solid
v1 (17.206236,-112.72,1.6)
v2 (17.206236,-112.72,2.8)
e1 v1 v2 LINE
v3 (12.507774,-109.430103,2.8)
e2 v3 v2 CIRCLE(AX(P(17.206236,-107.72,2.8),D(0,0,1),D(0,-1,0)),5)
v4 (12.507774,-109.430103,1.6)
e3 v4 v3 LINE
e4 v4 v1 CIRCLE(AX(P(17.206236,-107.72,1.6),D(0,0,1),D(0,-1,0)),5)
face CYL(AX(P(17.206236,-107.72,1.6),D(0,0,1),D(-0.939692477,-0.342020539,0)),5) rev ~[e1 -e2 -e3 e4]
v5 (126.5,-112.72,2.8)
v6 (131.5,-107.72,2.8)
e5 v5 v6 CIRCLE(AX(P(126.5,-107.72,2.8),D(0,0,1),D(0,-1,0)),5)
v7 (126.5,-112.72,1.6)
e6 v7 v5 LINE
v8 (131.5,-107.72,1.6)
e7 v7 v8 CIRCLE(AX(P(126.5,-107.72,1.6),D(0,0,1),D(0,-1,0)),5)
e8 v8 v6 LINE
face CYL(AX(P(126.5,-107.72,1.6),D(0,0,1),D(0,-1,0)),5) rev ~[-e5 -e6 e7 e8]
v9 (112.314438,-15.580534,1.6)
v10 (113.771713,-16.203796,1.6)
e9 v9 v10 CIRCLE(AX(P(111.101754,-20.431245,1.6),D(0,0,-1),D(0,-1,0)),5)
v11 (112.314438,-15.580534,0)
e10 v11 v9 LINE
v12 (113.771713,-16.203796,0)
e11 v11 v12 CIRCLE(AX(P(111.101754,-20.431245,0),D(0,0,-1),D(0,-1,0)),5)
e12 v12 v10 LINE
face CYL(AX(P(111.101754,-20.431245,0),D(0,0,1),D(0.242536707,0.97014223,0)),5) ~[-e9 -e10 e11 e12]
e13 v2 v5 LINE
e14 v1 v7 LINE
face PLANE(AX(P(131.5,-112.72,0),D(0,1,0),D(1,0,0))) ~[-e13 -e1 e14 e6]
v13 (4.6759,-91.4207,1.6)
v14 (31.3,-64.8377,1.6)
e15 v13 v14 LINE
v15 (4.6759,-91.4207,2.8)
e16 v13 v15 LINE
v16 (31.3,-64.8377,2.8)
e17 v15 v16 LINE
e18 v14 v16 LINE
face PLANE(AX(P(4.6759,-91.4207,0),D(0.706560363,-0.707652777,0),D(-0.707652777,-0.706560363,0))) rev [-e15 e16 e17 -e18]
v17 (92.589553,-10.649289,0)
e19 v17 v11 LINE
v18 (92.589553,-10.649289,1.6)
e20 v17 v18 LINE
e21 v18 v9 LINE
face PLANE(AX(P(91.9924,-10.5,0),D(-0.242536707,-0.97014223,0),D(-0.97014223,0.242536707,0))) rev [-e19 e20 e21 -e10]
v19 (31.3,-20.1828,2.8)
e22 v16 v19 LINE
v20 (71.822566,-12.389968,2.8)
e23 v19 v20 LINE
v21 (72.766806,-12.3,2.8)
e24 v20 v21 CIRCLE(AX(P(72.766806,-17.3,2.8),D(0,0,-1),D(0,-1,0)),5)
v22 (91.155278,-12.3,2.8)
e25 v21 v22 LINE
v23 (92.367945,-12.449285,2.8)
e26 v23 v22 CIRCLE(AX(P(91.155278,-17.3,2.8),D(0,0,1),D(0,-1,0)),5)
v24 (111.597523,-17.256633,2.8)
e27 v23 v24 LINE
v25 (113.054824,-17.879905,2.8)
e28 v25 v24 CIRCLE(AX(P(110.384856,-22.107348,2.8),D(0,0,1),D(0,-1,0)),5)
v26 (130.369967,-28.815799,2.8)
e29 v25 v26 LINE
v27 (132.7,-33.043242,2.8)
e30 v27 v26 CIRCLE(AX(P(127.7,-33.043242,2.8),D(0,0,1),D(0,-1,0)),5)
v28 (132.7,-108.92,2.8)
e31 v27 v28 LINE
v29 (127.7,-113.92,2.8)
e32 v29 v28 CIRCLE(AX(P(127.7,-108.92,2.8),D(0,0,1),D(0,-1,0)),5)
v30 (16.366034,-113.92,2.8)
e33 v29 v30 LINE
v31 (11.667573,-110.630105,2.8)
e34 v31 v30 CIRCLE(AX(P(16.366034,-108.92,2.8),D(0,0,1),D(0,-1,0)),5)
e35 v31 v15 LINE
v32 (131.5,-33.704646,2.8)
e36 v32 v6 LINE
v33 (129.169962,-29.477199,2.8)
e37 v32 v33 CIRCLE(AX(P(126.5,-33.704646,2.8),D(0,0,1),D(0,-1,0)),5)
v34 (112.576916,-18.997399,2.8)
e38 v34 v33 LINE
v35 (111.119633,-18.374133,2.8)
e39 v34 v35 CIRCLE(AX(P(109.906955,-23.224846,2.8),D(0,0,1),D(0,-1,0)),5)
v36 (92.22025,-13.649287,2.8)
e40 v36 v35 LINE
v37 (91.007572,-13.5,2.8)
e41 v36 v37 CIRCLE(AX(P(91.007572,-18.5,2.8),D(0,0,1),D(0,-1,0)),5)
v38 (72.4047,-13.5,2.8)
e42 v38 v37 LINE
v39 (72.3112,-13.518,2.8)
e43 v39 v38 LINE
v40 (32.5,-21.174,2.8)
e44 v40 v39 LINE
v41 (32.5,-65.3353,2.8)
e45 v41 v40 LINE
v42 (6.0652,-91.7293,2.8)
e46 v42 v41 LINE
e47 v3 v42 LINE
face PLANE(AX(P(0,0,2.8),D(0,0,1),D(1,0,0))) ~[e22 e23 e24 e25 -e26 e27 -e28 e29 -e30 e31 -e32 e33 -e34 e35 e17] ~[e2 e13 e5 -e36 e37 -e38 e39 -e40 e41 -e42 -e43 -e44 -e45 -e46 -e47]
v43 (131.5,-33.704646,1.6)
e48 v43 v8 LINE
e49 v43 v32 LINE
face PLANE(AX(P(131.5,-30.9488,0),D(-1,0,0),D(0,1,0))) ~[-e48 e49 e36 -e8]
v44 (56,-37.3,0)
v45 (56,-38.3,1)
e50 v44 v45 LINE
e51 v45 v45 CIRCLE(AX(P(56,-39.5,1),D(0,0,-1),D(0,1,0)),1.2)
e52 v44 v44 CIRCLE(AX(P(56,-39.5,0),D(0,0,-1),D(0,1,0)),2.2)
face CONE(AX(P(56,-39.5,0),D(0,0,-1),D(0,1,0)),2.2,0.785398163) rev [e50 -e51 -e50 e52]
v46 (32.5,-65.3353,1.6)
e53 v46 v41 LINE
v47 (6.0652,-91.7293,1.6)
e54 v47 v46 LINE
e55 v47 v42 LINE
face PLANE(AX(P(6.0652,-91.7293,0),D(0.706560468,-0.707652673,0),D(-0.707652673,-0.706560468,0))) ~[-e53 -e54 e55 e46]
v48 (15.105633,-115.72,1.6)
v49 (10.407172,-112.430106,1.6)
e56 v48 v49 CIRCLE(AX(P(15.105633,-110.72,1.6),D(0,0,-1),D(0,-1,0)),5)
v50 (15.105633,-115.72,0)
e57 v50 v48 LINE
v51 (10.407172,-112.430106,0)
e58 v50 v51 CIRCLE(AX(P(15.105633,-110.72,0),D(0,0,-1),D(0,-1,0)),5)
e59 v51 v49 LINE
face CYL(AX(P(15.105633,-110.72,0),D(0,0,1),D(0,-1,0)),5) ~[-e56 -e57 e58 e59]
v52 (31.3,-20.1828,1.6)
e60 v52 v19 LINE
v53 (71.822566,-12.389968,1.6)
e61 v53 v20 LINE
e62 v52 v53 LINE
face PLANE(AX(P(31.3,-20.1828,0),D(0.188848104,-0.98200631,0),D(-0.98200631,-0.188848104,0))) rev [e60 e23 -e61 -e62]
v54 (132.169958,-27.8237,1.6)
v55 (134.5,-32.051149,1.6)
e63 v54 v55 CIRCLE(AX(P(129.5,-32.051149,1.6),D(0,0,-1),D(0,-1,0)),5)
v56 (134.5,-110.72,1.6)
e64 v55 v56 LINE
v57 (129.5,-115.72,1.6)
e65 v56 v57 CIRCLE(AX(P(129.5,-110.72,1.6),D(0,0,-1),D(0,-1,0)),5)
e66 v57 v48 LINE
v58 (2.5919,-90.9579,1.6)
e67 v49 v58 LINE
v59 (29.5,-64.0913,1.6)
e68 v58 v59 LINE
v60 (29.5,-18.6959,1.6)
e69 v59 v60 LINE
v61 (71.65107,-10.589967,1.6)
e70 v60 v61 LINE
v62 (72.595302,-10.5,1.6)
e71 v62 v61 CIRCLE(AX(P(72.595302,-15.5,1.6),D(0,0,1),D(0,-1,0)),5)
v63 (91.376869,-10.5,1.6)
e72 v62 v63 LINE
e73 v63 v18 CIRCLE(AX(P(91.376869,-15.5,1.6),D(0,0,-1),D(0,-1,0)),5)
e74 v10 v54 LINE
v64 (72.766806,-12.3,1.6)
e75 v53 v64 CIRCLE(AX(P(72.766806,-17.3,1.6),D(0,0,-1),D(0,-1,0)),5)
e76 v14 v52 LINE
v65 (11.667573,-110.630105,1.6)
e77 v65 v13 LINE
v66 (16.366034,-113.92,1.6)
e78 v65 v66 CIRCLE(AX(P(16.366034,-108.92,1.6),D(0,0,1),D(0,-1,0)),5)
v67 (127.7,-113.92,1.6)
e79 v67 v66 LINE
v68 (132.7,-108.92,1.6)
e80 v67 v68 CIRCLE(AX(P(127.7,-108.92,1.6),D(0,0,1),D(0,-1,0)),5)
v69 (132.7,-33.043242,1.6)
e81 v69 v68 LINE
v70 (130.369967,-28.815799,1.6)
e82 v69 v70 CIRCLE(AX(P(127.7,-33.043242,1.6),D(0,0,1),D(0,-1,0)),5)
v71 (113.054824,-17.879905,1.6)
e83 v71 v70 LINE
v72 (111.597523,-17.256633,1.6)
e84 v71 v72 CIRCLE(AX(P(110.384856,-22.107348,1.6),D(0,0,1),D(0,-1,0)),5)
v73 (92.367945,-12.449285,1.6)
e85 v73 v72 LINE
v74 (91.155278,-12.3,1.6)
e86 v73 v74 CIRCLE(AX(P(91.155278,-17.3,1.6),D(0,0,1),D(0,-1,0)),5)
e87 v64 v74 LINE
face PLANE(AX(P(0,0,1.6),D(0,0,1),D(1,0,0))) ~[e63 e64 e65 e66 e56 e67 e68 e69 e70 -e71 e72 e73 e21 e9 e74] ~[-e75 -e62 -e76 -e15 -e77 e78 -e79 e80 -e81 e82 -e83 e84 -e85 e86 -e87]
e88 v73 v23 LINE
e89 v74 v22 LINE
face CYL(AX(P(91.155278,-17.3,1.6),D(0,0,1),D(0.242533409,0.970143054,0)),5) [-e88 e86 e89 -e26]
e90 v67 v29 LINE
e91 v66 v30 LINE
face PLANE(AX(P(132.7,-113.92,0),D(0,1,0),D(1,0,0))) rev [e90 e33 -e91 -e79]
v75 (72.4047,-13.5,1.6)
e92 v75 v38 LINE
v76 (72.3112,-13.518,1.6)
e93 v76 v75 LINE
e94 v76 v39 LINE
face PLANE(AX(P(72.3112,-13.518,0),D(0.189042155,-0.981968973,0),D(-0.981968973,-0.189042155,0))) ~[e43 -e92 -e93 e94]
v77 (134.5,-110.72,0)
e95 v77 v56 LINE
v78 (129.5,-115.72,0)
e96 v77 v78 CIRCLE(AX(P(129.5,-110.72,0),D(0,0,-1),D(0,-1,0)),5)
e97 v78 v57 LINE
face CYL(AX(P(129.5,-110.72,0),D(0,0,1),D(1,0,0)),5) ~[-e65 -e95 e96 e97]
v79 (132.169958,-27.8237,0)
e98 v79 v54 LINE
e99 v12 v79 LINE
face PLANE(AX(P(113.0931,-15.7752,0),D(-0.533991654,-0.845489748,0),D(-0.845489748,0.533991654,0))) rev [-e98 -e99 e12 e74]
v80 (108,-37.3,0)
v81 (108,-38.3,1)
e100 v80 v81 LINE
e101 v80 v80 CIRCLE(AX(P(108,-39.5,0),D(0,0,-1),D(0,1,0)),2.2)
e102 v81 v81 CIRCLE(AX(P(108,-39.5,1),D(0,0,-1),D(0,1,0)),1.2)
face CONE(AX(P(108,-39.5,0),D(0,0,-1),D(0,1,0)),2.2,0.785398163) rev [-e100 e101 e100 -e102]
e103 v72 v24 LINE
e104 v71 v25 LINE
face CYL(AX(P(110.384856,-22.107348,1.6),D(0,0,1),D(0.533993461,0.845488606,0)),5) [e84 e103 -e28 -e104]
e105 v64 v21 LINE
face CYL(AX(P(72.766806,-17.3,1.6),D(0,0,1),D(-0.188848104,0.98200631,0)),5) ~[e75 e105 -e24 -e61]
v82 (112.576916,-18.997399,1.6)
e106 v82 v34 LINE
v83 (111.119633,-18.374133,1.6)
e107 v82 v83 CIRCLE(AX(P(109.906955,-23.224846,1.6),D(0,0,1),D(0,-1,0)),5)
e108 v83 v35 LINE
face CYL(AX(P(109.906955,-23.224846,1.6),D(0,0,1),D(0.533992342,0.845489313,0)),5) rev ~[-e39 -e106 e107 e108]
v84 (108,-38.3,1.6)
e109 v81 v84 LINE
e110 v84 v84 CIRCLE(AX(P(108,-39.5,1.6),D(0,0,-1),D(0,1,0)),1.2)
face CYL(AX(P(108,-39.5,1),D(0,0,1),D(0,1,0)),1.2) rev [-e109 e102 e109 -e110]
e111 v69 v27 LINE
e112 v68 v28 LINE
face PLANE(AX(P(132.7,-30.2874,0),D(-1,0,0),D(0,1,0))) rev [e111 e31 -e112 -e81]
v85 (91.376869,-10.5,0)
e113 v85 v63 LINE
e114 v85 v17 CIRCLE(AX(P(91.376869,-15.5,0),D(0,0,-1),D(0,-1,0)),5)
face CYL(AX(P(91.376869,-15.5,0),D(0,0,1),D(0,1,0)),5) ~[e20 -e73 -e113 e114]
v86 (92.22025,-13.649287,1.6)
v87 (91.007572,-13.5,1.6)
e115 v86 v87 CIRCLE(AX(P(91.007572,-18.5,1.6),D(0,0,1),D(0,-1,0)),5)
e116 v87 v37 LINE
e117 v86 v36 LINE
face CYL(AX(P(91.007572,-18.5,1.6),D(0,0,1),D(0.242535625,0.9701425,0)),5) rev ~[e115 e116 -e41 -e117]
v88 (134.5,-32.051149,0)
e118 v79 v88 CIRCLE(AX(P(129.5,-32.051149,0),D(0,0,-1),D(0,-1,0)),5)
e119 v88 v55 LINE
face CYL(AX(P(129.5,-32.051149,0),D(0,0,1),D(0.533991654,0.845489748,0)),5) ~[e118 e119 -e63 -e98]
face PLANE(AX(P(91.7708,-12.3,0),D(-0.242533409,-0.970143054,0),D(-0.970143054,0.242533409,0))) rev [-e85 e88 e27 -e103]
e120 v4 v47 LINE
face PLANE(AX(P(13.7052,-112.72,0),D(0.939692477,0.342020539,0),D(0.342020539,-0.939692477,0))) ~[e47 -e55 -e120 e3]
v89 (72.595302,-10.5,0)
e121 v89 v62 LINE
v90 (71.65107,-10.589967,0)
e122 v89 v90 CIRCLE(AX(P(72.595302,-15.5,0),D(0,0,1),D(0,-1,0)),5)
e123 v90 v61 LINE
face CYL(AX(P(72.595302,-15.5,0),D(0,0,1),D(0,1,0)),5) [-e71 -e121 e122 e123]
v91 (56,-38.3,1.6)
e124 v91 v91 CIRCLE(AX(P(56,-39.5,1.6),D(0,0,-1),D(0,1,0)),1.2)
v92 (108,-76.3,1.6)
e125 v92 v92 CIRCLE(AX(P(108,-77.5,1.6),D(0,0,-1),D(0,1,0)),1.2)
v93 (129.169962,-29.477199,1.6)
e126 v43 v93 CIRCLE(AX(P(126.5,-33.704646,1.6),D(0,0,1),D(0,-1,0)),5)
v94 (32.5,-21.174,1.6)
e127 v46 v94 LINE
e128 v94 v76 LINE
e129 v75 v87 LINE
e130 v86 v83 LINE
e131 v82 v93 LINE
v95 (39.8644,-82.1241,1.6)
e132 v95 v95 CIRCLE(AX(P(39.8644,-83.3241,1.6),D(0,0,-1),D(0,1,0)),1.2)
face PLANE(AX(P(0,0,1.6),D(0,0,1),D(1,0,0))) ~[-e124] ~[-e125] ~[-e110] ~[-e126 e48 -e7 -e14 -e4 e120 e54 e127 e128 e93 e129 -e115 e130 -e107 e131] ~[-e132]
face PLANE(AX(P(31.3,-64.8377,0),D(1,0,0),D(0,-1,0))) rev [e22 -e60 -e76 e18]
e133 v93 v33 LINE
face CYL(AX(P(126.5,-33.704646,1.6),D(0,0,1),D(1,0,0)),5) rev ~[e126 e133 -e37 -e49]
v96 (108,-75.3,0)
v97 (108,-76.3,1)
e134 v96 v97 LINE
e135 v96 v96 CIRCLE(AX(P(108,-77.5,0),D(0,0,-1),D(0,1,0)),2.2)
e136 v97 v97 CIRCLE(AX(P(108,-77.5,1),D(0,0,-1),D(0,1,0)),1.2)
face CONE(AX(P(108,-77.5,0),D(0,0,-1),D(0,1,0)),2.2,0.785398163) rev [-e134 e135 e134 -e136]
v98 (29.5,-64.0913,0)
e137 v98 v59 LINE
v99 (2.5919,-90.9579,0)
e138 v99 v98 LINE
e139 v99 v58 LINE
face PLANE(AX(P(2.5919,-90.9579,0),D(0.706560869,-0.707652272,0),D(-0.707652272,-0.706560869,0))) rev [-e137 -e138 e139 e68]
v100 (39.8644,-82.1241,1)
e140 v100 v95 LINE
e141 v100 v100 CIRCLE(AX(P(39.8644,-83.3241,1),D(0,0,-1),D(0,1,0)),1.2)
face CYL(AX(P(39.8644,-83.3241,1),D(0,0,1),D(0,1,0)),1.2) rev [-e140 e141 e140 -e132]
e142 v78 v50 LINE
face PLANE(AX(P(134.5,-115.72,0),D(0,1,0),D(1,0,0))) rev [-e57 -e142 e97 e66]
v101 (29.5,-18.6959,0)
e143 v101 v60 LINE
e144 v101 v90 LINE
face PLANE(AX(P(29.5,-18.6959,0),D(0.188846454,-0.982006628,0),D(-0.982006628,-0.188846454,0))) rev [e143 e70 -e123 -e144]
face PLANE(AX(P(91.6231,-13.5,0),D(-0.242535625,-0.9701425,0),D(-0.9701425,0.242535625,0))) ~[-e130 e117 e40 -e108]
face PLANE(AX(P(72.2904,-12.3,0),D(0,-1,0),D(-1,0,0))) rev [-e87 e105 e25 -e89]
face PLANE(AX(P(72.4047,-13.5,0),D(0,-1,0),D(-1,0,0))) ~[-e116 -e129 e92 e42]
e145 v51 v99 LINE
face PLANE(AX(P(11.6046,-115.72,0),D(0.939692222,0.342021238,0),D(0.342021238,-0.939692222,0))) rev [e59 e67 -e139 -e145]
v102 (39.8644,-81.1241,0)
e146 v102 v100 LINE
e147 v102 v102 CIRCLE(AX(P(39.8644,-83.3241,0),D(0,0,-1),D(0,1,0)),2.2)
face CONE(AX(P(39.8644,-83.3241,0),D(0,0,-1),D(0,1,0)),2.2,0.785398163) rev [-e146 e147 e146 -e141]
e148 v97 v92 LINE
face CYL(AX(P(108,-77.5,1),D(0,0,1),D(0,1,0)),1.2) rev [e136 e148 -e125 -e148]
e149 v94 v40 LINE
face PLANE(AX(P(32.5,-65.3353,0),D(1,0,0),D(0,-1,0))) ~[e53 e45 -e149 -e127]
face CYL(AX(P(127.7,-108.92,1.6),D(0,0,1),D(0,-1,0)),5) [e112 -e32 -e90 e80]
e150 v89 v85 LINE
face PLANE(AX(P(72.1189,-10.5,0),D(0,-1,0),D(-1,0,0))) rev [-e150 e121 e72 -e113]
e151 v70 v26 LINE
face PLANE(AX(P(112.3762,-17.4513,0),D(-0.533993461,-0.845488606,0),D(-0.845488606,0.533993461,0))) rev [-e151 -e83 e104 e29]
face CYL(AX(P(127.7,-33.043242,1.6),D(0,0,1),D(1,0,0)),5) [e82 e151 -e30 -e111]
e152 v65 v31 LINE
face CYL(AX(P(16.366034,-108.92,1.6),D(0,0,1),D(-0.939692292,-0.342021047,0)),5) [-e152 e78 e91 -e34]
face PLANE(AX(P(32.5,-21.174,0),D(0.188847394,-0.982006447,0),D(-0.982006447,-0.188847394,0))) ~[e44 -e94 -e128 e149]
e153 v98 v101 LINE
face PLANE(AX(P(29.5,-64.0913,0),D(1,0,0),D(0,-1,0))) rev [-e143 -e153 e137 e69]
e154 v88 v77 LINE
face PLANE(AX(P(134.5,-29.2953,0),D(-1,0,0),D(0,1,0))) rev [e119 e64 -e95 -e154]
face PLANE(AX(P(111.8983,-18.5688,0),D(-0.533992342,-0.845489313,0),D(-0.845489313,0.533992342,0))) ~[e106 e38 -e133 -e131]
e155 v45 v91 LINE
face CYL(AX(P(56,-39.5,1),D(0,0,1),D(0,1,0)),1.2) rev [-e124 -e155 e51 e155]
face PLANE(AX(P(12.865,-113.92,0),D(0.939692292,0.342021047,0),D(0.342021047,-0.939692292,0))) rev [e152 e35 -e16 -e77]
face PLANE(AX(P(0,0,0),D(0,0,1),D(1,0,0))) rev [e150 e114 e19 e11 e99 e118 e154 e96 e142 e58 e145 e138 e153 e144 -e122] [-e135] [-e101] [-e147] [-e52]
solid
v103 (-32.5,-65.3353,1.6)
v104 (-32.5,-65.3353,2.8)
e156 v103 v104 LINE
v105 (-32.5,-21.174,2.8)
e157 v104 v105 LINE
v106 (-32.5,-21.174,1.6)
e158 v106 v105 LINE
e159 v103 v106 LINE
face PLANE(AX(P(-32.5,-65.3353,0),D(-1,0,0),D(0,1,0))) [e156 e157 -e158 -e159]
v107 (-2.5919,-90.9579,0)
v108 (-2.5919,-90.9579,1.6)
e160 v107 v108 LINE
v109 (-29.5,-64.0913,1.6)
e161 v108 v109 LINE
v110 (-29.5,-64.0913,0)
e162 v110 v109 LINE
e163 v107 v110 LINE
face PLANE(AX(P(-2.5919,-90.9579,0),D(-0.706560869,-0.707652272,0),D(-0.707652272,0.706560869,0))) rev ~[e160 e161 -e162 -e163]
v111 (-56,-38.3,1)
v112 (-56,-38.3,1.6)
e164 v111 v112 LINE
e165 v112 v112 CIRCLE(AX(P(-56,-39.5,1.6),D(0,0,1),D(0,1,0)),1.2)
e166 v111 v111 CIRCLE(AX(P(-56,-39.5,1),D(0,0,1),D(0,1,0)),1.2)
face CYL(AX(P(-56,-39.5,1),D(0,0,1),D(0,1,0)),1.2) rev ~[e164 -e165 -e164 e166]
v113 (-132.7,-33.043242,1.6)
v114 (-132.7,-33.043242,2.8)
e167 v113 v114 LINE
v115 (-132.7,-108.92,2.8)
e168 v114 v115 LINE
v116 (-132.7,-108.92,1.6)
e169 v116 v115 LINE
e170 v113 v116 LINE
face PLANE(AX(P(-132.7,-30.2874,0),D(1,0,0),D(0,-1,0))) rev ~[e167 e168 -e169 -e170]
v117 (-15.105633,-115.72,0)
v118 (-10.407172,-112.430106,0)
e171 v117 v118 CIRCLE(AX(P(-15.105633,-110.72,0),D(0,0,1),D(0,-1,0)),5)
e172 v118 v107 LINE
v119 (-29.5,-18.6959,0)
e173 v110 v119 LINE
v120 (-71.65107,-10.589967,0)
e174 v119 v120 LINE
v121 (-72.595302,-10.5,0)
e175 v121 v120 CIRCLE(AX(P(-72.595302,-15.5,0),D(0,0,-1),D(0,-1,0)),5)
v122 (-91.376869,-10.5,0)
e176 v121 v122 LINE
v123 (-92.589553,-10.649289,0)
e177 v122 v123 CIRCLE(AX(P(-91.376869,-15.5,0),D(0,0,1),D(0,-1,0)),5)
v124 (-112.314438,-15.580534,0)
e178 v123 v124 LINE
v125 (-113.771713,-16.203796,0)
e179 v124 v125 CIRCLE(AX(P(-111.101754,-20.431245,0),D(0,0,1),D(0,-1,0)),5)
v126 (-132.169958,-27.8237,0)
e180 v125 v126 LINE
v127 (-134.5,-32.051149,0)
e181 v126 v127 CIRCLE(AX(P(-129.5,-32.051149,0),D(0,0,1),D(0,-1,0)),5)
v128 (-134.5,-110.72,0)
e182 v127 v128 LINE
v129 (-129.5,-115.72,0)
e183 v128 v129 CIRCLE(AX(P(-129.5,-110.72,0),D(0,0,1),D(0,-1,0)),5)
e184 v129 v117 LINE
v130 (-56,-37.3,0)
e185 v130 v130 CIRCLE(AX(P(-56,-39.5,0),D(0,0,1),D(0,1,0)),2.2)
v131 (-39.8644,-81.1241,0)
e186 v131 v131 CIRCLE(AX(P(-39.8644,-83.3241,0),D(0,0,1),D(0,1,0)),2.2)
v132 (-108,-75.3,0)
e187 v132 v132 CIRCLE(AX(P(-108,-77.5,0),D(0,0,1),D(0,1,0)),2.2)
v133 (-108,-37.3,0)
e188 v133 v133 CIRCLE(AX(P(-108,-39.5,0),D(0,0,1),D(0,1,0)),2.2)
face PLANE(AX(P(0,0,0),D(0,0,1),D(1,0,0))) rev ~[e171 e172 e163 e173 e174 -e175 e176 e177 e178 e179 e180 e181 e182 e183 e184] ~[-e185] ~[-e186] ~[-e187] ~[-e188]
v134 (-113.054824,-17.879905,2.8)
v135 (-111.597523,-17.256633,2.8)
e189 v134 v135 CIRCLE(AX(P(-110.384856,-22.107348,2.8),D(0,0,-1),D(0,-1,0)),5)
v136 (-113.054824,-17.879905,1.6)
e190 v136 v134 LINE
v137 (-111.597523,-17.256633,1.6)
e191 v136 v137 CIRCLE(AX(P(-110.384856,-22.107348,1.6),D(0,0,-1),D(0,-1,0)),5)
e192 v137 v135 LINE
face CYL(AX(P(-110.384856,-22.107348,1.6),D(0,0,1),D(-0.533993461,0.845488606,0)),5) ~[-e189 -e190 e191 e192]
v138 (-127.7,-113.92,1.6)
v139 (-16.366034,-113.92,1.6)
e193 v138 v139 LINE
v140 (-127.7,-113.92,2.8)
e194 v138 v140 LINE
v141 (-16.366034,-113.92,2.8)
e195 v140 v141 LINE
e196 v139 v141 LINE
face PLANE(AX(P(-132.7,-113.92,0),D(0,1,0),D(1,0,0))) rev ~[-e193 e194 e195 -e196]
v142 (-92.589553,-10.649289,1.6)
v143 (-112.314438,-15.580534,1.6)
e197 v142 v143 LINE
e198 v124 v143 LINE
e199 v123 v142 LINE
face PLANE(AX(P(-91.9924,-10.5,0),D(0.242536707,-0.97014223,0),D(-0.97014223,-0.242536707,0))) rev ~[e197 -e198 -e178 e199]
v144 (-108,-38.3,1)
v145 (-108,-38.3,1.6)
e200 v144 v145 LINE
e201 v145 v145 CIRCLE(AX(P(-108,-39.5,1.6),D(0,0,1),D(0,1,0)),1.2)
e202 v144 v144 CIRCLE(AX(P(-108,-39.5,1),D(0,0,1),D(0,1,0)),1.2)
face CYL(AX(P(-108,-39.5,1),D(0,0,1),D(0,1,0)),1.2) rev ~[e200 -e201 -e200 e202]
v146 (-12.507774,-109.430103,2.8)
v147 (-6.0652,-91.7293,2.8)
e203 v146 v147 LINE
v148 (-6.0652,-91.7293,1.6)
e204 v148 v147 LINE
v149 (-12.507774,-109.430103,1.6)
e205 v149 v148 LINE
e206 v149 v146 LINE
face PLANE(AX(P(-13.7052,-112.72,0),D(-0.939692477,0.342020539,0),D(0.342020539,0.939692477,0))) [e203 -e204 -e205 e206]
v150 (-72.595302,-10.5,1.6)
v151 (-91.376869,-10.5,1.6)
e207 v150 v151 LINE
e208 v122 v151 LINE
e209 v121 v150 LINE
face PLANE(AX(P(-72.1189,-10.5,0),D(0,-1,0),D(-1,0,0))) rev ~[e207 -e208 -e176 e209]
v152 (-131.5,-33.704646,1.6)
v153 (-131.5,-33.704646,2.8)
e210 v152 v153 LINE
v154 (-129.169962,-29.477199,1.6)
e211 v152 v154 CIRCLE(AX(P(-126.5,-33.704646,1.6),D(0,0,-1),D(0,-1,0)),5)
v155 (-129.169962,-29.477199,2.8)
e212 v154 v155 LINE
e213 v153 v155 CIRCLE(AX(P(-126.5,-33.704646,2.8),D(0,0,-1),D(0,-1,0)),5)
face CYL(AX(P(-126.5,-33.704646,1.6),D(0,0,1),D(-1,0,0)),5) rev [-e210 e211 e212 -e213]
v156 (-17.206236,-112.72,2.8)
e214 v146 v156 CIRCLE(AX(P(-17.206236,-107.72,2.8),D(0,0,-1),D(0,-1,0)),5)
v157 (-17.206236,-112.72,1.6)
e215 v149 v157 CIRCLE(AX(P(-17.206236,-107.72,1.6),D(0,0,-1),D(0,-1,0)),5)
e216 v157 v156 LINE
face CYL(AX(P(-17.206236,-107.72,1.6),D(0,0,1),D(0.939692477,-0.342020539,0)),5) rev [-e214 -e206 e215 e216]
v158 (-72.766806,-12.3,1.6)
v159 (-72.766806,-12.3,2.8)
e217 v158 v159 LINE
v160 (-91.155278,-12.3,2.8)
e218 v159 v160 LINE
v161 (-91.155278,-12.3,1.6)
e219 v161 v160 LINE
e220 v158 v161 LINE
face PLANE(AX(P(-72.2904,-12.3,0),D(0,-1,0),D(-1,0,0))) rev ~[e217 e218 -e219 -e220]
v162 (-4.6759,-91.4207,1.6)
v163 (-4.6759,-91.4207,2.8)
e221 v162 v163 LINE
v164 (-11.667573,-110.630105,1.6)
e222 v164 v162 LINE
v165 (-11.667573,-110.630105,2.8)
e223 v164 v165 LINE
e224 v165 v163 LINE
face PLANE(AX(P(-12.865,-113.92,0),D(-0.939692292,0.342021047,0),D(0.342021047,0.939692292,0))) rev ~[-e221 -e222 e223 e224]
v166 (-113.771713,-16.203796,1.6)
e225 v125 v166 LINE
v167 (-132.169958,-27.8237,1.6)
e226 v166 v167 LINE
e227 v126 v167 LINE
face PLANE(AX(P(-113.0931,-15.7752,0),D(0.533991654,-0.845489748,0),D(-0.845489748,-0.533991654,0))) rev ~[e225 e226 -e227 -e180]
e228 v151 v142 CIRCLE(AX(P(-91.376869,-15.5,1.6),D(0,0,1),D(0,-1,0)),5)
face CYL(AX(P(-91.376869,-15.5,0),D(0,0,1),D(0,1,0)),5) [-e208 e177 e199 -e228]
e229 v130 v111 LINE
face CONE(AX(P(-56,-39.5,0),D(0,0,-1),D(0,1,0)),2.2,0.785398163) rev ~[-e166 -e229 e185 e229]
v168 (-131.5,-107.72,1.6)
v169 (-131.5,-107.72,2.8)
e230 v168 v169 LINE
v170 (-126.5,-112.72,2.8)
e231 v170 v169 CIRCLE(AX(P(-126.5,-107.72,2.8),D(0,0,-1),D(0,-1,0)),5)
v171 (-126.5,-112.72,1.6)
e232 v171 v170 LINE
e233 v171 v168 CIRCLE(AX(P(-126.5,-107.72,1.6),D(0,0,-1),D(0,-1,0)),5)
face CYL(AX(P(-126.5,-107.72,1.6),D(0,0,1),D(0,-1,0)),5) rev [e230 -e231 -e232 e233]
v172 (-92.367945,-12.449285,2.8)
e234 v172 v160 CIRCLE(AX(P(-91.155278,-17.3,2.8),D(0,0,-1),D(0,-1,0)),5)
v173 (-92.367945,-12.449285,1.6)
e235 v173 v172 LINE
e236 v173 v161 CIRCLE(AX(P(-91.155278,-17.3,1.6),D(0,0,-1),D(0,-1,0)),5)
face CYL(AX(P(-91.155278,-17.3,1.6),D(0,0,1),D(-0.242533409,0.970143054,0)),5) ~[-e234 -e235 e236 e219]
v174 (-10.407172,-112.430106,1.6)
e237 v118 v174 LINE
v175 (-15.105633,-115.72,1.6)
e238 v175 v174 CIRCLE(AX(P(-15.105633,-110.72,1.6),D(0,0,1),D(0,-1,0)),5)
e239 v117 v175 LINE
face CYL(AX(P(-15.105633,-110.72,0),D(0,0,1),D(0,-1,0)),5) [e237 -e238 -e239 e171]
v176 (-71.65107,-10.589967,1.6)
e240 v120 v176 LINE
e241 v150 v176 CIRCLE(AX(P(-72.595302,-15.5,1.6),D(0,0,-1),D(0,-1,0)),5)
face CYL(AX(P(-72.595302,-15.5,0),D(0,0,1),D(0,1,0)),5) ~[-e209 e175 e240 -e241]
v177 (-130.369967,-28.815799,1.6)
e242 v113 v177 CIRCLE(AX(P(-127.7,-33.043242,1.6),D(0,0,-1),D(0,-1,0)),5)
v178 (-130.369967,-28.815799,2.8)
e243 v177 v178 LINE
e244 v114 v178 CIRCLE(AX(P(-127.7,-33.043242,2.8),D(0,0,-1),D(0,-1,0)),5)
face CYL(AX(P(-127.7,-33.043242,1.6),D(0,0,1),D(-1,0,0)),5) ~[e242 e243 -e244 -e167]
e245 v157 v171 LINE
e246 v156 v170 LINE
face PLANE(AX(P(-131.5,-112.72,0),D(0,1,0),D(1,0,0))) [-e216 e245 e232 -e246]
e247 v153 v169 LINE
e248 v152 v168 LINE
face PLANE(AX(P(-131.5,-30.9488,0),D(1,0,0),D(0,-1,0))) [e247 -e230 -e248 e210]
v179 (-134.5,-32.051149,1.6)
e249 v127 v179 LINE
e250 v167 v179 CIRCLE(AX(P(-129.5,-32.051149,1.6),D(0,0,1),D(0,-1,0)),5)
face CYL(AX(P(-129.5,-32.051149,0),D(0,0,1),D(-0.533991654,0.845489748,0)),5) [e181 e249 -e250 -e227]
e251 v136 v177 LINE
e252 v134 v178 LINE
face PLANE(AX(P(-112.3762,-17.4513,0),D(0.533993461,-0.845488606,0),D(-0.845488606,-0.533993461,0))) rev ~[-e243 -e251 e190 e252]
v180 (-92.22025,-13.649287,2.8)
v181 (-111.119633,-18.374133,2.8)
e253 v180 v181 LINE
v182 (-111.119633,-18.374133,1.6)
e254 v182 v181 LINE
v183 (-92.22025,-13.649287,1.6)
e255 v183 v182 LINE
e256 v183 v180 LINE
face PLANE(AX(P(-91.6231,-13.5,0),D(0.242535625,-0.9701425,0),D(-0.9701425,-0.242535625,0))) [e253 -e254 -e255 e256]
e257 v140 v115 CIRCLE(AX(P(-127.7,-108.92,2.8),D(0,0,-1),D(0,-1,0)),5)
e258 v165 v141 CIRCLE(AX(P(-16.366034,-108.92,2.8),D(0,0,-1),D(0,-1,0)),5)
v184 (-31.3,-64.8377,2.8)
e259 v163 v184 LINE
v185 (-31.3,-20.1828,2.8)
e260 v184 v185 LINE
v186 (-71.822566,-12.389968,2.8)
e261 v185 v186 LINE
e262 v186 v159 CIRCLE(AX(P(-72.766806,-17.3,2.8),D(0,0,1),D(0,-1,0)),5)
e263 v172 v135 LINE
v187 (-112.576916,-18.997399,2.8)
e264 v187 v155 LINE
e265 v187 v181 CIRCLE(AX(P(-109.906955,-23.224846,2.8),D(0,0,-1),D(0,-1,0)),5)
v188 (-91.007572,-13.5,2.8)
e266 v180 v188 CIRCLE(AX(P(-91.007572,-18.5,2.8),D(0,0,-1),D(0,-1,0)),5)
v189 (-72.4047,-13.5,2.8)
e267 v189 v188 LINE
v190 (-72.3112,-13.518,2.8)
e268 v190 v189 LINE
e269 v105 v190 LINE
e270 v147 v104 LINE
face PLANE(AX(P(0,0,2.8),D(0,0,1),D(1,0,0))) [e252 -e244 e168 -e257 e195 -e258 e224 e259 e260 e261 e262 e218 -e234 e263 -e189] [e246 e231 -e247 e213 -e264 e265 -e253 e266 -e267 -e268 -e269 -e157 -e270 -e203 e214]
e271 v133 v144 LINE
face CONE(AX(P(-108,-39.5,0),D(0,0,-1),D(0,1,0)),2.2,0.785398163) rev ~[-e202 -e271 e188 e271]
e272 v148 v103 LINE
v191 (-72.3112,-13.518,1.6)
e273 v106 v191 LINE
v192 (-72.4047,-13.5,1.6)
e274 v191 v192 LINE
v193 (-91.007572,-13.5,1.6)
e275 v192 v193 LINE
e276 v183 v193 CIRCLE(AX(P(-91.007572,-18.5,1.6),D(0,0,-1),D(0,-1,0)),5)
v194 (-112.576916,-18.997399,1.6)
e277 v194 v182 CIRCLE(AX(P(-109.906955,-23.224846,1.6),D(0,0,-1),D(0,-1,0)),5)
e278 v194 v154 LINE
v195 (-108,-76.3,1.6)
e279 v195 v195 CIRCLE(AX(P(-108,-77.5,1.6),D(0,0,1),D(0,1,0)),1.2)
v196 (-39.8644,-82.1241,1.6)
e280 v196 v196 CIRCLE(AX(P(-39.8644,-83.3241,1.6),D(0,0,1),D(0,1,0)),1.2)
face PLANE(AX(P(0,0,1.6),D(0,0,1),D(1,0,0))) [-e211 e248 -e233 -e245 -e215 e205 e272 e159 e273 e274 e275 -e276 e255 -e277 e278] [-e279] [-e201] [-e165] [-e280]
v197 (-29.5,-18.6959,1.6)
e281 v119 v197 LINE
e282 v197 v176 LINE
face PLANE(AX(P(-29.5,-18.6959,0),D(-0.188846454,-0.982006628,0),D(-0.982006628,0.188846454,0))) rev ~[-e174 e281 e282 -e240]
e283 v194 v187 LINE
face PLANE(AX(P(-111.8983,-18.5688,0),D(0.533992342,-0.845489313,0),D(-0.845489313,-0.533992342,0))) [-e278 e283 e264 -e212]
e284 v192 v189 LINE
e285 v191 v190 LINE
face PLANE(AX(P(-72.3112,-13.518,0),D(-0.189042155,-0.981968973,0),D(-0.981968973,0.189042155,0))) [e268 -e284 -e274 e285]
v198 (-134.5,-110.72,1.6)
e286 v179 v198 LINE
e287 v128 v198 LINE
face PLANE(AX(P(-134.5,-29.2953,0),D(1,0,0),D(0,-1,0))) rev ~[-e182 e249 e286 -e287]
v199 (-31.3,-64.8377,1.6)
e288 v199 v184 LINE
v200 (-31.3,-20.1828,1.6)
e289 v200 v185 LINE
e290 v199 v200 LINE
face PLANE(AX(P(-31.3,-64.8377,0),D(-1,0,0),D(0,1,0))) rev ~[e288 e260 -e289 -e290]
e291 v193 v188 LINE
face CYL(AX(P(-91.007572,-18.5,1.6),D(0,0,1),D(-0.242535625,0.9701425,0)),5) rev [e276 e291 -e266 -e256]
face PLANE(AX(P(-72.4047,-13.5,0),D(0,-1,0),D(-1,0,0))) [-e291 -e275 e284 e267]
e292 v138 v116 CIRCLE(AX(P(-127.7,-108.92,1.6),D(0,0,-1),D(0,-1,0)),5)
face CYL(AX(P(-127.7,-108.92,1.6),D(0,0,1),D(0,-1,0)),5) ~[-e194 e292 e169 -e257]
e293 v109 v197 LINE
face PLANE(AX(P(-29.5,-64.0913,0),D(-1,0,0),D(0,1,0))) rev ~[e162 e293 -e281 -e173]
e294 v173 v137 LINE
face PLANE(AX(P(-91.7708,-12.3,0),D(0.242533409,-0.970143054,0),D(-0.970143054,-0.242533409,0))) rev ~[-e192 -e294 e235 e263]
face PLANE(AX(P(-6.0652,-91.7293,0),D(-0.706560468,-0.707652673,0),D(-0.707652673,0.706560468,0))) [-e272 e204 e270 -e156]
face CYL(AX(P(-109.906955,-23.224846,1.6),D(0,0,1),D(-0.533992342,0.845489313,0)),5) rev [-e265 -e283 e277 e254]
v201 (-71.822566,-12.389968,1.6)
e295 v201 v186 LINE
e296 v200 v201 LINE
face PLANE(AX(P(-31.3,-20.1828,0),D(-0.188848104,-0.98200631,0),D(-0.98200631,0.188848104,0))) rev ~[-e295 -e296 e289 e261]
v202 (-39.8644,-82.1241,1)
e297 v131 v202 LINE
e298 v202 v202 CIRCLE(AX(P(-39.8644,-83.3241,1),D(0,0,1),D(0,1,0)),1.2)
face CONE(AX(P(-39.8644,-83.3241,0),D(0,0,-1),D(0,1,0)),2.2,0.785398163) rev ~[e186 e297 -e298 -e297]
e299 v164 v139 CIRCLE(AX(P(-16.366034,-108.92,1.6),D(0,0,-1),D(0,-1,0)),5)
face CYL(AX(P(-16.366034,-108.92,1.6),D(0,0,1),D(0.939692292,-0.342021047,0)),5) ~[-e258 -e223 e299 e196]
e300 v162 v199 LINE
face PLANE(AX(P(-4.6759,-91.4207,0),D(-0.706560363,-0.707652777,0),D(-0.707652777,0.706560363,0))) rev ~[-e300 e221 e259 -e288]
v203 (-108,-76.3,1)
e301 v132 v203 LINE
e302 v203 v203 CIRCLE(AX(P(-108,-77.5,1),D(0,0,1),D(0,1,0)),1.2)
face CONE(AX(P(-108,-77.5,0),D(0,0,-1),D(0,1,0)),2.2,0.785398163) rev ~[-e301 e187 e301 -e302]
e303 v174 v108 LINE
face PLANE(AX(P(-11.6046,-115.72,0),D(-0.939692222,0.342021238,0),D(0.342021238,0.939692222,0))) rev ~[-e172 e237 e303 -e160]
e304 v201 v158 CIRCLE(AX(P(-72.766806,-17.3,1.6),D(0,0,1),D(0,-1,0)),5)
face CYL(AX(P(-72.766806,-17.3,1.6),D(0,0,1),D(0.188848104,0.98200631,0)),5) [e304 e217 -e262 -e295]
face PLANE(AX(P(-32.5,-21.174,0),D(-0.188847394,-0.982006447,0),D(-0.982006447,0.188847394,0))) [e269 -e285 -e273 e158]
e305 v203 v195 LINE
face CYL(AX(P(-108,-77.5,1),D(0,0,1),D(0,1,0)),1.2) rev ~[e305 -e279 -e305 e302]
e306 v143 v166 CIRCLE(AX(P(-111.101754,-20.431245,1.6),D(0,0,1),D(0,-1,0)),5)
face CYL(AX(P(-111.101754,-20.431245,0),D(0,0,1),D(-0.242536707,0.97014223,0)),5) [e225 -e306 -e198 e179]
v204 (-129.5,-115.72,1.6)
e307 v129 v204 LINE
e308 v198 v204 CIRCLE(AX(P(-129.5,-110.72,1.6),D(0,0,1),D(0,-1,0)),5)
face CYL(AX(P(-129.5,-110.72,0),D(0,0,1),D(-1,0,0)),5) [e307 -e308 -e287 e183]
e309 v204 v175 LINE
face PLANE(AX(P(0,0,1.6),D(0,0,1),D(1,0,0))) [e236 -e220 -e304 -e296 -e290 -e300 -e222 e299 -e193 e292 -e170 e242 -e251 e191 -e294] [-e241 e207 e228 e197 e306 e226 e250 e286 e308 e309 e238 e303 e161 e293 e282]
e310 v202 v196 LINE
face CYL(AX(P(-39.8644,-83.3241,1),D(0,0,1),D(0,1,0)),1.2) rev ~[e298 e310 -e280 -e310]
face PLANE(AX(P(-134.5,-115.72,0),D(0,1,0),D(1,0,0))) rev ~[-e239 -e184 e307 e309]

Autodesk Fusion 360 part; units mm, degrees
sketch "case_bottom" plane through (0, 0, 0) normal (0, 0, 1) x (1, 0, 0)
  line L0 (-13.7052, -112.72) -> (-6.0652, -91.7293)
  line L1 (-111.8983, -18.5688) -> (-131.5, -30.9488)
  line L2 (-72.3112, -13.518) -> (-72.4047, -13.5)
  line L3 (-131.5, -30.9488) -> (-131.5, -112.72)
  line L4 (-32.5, -65.3353) -> (-32.5, -21.174)
  line L5 (-91.6231, -13.5) -> (-111.8983, -18.5688)
  line L6 (-72.4047, -13.5) -> (-91.6231, -13.5)
  line L7 (-131.5, -112.72) -> (-13.7052, -112.72)
  line L8 (-6.0652, -91.7293) -> (-32.5, -65.3353)
  line L9 (-32.5, -21.174) -> (-72.3112, -13.518)
  line L10 (-91.9924, -10.5) -> (-113.0931, -15.7752)
  line L11 (-134.5, -29.2953) -> (-134.5, -115.72)
  line L12 (-72.1189, -10.5) -> (-91.9924, -10.5)
  line L13 (-11.6046, -115.72) -> (-2.5919, -90.9579)
  line L14 (-134.5, -115.72) -> (-11.6046, -115.72)
  line L15 (-29.5, -18.6959) -> (-72.1189, -10.5)
  line L16 (-29.5, -64.0913) -> (-29.5, -18.6959)
  line L17 (-113.0931, -15.7752) -> (-134.5, -29.2953)
  line L18 (-2.5919, -90.9579) -> (-29.5, -64.0913)
  line L19 (-31.3, -20.1828) -> (-72.2904, -12.3)
  line L20 (-91.7708, -12.3) -> (-112.3762, -17.4513)
  line L21 (-31.3, -64.8377) -> (-31.3, -20.1828)
  line L22 (-132.7, -30.2874) -> (-132.7, -113.92)
  line L23 (-112.3762, -17.4513) -> (-132.7, -30.2874)
  line L24 (-72.2904, -12.3) -> (-91.7708, -12.3)
  line L25 (-4.6759, -91.4207) -> (-31.3, -64.8377)
  line L26 (-132.7, -113.92) -> (-12.865, -113.92)
  line L27 (-12.865, -113.92) -> (-4.6759, -91.4207)
  line L28 (-112.6152, -16.8926) -> (-133.3, -29.9567)
  line L29 (-12.4448, -114.52) -> (-3.9812, -91.2664)
  line L30 (-30.7, -19.6872) -> (-71.9712, -11.7504)
  line L31 (-3.9812, -91.2664) -> (-30.7, -64.5889)
  line L32 (-133.3, -29.9567) -> (-133.3, -114.52)
  line L33 (-91.8447, -11.7) -> (-112.6152, -16.8926)
  line L34 (-72.2332, -11.7) -> (-91.8447, -11.7)
  line L35 (-30.7, -64.5889) -> (-30.7, -19.6872)
  line L36 (-133.3, -114.52) -> (-12.4448, -114.52)
  line L37 (-71.9712, -11.7504) -> (-72.2332, -11.7)
  circle A0 centre (-108, -39.5) radius 2.2
  circle A1 centre (-108, -77.5) radius 2.2
  circle A2 centre (-56, -39.5) radius 2.2
  circle A3 centre (-39.8644, -83.3241) radius 2.2
  line L38 (-96.5, -91.61) -> (-129.5, -91.61)
  line L39 (-96.5, -109.61) -> (-96.5, -91.61)
  line L40 (-129.5, -109.61) -> (-96.5, -109.61)
  line L41 (-129.5, -91.61) -> (-129.5, -109.61)
  line L42 (-92.975, -106.99) -> (-92.975, -112.84)
  line L43 (-84.175, -112.84) -> (-84.175, -106.99)
  line L44 (-84.175, -106.99) -> (-92.975, -106.99)
  line L45 (-82.175, -107.975) -> (-82.175, -111.475)
  line L46 (-73.175, -107.975) -> (-82.175, -107.975)
  line L47 (-82.175, -111.475) -> (-73.175, -111.475)
  line L48 (-73.175, -111.475) -> (-73.175, -107.975)
  line L49 (-17.3936, -82.1718) -> (-25.1718, -74.3936)
  line L50 (-25.1718, -74.3936) -> (-31.6064, -80.8282)
  line L51 (-31.6064, -80.8282) -> (-23.8282, -88.6064)
  line L52 (-23.8282, -88.6064) -> (-17.3936, -82.1718)
  line L53 (-96.8, -79.55) -> (-105.4, -79.55)
  line L54 (-105.4, -88.45) -> (-96.8, -88.45)
  line L55 (-96.8, -88.45) -> (-96.8, -79.55)
  line L56 (-105.4, -79.55) -> (-105.4, -88.45)
extrude "Extrude1" add sketch "case_bottom" along normal blind 1.6 contours L0 L1 L2 L3 L4 L5 L6 L7 L8 L9 L42 L43 L44 | L7 L42 L43 L44 | A0 | A1 | A2 | A3 | L38 L39 L40 L41 | L45 L46 L47 L48 | L49 L50 L51 L52 | L53 L54 L55 L56 makes body 1
extrude "Extrude2" add sketch "case_bottom" along normal blind 2.8 contours L19 L20 L21 L22 L23 L24 L25 L26 L27 bodies 1
extrude "Extrude3" add sketch "case_bottom" along normal blind 1.6 contours L10 L11 L12 L13 L14 L15 L16 L17 L18 | L28 L29 L30 L31 L32 L33 L34 L35 L36 L37 bodies 1
hole "Hole1" at (-56, -39.5, 0) at (-108, -77.5, 0) at (-108, -39.5, 0) at (-39.8644, -83.3241, 0) direction (0, 0, 1) diameter 2.4 depth 1.6 tip angle 118 countersink diameter 4.4 countersink angle 90 bodies 1
fillet "Fillet1" radius 5 17 edges at (-12.865, -113.92, 2.2) (-11.6046, -115.72, 0.8) (-13.7052, -112.72, 2.2) (-134.5, -115.72, 0.8) (-132.7, -113.92, 2.2) (-131.5, -112.72, 2.2) (-131.5, -30.9488, 2.2) (-132.7, -30.2874, 2.2) (-134.5, -29.2953, 0.8) (-112.3762, -17.4513, 2.2) (-113.0931, -15.7752, 0.8) (-91.7708, -12.3, 2.2) (-91.9924, -10.5, 0.8) (-72.2904, -12.3, 2.2) (-72.1189, -10.5, 0.8) (-91.6231, -13.5, 2.2) (-111.8983, -18.5688, 2.2) on bodies 1
mirror "Mirror1" about plane through (0, 0, 0) normal (1, 0, 0) of bodies 1 makes body 2
